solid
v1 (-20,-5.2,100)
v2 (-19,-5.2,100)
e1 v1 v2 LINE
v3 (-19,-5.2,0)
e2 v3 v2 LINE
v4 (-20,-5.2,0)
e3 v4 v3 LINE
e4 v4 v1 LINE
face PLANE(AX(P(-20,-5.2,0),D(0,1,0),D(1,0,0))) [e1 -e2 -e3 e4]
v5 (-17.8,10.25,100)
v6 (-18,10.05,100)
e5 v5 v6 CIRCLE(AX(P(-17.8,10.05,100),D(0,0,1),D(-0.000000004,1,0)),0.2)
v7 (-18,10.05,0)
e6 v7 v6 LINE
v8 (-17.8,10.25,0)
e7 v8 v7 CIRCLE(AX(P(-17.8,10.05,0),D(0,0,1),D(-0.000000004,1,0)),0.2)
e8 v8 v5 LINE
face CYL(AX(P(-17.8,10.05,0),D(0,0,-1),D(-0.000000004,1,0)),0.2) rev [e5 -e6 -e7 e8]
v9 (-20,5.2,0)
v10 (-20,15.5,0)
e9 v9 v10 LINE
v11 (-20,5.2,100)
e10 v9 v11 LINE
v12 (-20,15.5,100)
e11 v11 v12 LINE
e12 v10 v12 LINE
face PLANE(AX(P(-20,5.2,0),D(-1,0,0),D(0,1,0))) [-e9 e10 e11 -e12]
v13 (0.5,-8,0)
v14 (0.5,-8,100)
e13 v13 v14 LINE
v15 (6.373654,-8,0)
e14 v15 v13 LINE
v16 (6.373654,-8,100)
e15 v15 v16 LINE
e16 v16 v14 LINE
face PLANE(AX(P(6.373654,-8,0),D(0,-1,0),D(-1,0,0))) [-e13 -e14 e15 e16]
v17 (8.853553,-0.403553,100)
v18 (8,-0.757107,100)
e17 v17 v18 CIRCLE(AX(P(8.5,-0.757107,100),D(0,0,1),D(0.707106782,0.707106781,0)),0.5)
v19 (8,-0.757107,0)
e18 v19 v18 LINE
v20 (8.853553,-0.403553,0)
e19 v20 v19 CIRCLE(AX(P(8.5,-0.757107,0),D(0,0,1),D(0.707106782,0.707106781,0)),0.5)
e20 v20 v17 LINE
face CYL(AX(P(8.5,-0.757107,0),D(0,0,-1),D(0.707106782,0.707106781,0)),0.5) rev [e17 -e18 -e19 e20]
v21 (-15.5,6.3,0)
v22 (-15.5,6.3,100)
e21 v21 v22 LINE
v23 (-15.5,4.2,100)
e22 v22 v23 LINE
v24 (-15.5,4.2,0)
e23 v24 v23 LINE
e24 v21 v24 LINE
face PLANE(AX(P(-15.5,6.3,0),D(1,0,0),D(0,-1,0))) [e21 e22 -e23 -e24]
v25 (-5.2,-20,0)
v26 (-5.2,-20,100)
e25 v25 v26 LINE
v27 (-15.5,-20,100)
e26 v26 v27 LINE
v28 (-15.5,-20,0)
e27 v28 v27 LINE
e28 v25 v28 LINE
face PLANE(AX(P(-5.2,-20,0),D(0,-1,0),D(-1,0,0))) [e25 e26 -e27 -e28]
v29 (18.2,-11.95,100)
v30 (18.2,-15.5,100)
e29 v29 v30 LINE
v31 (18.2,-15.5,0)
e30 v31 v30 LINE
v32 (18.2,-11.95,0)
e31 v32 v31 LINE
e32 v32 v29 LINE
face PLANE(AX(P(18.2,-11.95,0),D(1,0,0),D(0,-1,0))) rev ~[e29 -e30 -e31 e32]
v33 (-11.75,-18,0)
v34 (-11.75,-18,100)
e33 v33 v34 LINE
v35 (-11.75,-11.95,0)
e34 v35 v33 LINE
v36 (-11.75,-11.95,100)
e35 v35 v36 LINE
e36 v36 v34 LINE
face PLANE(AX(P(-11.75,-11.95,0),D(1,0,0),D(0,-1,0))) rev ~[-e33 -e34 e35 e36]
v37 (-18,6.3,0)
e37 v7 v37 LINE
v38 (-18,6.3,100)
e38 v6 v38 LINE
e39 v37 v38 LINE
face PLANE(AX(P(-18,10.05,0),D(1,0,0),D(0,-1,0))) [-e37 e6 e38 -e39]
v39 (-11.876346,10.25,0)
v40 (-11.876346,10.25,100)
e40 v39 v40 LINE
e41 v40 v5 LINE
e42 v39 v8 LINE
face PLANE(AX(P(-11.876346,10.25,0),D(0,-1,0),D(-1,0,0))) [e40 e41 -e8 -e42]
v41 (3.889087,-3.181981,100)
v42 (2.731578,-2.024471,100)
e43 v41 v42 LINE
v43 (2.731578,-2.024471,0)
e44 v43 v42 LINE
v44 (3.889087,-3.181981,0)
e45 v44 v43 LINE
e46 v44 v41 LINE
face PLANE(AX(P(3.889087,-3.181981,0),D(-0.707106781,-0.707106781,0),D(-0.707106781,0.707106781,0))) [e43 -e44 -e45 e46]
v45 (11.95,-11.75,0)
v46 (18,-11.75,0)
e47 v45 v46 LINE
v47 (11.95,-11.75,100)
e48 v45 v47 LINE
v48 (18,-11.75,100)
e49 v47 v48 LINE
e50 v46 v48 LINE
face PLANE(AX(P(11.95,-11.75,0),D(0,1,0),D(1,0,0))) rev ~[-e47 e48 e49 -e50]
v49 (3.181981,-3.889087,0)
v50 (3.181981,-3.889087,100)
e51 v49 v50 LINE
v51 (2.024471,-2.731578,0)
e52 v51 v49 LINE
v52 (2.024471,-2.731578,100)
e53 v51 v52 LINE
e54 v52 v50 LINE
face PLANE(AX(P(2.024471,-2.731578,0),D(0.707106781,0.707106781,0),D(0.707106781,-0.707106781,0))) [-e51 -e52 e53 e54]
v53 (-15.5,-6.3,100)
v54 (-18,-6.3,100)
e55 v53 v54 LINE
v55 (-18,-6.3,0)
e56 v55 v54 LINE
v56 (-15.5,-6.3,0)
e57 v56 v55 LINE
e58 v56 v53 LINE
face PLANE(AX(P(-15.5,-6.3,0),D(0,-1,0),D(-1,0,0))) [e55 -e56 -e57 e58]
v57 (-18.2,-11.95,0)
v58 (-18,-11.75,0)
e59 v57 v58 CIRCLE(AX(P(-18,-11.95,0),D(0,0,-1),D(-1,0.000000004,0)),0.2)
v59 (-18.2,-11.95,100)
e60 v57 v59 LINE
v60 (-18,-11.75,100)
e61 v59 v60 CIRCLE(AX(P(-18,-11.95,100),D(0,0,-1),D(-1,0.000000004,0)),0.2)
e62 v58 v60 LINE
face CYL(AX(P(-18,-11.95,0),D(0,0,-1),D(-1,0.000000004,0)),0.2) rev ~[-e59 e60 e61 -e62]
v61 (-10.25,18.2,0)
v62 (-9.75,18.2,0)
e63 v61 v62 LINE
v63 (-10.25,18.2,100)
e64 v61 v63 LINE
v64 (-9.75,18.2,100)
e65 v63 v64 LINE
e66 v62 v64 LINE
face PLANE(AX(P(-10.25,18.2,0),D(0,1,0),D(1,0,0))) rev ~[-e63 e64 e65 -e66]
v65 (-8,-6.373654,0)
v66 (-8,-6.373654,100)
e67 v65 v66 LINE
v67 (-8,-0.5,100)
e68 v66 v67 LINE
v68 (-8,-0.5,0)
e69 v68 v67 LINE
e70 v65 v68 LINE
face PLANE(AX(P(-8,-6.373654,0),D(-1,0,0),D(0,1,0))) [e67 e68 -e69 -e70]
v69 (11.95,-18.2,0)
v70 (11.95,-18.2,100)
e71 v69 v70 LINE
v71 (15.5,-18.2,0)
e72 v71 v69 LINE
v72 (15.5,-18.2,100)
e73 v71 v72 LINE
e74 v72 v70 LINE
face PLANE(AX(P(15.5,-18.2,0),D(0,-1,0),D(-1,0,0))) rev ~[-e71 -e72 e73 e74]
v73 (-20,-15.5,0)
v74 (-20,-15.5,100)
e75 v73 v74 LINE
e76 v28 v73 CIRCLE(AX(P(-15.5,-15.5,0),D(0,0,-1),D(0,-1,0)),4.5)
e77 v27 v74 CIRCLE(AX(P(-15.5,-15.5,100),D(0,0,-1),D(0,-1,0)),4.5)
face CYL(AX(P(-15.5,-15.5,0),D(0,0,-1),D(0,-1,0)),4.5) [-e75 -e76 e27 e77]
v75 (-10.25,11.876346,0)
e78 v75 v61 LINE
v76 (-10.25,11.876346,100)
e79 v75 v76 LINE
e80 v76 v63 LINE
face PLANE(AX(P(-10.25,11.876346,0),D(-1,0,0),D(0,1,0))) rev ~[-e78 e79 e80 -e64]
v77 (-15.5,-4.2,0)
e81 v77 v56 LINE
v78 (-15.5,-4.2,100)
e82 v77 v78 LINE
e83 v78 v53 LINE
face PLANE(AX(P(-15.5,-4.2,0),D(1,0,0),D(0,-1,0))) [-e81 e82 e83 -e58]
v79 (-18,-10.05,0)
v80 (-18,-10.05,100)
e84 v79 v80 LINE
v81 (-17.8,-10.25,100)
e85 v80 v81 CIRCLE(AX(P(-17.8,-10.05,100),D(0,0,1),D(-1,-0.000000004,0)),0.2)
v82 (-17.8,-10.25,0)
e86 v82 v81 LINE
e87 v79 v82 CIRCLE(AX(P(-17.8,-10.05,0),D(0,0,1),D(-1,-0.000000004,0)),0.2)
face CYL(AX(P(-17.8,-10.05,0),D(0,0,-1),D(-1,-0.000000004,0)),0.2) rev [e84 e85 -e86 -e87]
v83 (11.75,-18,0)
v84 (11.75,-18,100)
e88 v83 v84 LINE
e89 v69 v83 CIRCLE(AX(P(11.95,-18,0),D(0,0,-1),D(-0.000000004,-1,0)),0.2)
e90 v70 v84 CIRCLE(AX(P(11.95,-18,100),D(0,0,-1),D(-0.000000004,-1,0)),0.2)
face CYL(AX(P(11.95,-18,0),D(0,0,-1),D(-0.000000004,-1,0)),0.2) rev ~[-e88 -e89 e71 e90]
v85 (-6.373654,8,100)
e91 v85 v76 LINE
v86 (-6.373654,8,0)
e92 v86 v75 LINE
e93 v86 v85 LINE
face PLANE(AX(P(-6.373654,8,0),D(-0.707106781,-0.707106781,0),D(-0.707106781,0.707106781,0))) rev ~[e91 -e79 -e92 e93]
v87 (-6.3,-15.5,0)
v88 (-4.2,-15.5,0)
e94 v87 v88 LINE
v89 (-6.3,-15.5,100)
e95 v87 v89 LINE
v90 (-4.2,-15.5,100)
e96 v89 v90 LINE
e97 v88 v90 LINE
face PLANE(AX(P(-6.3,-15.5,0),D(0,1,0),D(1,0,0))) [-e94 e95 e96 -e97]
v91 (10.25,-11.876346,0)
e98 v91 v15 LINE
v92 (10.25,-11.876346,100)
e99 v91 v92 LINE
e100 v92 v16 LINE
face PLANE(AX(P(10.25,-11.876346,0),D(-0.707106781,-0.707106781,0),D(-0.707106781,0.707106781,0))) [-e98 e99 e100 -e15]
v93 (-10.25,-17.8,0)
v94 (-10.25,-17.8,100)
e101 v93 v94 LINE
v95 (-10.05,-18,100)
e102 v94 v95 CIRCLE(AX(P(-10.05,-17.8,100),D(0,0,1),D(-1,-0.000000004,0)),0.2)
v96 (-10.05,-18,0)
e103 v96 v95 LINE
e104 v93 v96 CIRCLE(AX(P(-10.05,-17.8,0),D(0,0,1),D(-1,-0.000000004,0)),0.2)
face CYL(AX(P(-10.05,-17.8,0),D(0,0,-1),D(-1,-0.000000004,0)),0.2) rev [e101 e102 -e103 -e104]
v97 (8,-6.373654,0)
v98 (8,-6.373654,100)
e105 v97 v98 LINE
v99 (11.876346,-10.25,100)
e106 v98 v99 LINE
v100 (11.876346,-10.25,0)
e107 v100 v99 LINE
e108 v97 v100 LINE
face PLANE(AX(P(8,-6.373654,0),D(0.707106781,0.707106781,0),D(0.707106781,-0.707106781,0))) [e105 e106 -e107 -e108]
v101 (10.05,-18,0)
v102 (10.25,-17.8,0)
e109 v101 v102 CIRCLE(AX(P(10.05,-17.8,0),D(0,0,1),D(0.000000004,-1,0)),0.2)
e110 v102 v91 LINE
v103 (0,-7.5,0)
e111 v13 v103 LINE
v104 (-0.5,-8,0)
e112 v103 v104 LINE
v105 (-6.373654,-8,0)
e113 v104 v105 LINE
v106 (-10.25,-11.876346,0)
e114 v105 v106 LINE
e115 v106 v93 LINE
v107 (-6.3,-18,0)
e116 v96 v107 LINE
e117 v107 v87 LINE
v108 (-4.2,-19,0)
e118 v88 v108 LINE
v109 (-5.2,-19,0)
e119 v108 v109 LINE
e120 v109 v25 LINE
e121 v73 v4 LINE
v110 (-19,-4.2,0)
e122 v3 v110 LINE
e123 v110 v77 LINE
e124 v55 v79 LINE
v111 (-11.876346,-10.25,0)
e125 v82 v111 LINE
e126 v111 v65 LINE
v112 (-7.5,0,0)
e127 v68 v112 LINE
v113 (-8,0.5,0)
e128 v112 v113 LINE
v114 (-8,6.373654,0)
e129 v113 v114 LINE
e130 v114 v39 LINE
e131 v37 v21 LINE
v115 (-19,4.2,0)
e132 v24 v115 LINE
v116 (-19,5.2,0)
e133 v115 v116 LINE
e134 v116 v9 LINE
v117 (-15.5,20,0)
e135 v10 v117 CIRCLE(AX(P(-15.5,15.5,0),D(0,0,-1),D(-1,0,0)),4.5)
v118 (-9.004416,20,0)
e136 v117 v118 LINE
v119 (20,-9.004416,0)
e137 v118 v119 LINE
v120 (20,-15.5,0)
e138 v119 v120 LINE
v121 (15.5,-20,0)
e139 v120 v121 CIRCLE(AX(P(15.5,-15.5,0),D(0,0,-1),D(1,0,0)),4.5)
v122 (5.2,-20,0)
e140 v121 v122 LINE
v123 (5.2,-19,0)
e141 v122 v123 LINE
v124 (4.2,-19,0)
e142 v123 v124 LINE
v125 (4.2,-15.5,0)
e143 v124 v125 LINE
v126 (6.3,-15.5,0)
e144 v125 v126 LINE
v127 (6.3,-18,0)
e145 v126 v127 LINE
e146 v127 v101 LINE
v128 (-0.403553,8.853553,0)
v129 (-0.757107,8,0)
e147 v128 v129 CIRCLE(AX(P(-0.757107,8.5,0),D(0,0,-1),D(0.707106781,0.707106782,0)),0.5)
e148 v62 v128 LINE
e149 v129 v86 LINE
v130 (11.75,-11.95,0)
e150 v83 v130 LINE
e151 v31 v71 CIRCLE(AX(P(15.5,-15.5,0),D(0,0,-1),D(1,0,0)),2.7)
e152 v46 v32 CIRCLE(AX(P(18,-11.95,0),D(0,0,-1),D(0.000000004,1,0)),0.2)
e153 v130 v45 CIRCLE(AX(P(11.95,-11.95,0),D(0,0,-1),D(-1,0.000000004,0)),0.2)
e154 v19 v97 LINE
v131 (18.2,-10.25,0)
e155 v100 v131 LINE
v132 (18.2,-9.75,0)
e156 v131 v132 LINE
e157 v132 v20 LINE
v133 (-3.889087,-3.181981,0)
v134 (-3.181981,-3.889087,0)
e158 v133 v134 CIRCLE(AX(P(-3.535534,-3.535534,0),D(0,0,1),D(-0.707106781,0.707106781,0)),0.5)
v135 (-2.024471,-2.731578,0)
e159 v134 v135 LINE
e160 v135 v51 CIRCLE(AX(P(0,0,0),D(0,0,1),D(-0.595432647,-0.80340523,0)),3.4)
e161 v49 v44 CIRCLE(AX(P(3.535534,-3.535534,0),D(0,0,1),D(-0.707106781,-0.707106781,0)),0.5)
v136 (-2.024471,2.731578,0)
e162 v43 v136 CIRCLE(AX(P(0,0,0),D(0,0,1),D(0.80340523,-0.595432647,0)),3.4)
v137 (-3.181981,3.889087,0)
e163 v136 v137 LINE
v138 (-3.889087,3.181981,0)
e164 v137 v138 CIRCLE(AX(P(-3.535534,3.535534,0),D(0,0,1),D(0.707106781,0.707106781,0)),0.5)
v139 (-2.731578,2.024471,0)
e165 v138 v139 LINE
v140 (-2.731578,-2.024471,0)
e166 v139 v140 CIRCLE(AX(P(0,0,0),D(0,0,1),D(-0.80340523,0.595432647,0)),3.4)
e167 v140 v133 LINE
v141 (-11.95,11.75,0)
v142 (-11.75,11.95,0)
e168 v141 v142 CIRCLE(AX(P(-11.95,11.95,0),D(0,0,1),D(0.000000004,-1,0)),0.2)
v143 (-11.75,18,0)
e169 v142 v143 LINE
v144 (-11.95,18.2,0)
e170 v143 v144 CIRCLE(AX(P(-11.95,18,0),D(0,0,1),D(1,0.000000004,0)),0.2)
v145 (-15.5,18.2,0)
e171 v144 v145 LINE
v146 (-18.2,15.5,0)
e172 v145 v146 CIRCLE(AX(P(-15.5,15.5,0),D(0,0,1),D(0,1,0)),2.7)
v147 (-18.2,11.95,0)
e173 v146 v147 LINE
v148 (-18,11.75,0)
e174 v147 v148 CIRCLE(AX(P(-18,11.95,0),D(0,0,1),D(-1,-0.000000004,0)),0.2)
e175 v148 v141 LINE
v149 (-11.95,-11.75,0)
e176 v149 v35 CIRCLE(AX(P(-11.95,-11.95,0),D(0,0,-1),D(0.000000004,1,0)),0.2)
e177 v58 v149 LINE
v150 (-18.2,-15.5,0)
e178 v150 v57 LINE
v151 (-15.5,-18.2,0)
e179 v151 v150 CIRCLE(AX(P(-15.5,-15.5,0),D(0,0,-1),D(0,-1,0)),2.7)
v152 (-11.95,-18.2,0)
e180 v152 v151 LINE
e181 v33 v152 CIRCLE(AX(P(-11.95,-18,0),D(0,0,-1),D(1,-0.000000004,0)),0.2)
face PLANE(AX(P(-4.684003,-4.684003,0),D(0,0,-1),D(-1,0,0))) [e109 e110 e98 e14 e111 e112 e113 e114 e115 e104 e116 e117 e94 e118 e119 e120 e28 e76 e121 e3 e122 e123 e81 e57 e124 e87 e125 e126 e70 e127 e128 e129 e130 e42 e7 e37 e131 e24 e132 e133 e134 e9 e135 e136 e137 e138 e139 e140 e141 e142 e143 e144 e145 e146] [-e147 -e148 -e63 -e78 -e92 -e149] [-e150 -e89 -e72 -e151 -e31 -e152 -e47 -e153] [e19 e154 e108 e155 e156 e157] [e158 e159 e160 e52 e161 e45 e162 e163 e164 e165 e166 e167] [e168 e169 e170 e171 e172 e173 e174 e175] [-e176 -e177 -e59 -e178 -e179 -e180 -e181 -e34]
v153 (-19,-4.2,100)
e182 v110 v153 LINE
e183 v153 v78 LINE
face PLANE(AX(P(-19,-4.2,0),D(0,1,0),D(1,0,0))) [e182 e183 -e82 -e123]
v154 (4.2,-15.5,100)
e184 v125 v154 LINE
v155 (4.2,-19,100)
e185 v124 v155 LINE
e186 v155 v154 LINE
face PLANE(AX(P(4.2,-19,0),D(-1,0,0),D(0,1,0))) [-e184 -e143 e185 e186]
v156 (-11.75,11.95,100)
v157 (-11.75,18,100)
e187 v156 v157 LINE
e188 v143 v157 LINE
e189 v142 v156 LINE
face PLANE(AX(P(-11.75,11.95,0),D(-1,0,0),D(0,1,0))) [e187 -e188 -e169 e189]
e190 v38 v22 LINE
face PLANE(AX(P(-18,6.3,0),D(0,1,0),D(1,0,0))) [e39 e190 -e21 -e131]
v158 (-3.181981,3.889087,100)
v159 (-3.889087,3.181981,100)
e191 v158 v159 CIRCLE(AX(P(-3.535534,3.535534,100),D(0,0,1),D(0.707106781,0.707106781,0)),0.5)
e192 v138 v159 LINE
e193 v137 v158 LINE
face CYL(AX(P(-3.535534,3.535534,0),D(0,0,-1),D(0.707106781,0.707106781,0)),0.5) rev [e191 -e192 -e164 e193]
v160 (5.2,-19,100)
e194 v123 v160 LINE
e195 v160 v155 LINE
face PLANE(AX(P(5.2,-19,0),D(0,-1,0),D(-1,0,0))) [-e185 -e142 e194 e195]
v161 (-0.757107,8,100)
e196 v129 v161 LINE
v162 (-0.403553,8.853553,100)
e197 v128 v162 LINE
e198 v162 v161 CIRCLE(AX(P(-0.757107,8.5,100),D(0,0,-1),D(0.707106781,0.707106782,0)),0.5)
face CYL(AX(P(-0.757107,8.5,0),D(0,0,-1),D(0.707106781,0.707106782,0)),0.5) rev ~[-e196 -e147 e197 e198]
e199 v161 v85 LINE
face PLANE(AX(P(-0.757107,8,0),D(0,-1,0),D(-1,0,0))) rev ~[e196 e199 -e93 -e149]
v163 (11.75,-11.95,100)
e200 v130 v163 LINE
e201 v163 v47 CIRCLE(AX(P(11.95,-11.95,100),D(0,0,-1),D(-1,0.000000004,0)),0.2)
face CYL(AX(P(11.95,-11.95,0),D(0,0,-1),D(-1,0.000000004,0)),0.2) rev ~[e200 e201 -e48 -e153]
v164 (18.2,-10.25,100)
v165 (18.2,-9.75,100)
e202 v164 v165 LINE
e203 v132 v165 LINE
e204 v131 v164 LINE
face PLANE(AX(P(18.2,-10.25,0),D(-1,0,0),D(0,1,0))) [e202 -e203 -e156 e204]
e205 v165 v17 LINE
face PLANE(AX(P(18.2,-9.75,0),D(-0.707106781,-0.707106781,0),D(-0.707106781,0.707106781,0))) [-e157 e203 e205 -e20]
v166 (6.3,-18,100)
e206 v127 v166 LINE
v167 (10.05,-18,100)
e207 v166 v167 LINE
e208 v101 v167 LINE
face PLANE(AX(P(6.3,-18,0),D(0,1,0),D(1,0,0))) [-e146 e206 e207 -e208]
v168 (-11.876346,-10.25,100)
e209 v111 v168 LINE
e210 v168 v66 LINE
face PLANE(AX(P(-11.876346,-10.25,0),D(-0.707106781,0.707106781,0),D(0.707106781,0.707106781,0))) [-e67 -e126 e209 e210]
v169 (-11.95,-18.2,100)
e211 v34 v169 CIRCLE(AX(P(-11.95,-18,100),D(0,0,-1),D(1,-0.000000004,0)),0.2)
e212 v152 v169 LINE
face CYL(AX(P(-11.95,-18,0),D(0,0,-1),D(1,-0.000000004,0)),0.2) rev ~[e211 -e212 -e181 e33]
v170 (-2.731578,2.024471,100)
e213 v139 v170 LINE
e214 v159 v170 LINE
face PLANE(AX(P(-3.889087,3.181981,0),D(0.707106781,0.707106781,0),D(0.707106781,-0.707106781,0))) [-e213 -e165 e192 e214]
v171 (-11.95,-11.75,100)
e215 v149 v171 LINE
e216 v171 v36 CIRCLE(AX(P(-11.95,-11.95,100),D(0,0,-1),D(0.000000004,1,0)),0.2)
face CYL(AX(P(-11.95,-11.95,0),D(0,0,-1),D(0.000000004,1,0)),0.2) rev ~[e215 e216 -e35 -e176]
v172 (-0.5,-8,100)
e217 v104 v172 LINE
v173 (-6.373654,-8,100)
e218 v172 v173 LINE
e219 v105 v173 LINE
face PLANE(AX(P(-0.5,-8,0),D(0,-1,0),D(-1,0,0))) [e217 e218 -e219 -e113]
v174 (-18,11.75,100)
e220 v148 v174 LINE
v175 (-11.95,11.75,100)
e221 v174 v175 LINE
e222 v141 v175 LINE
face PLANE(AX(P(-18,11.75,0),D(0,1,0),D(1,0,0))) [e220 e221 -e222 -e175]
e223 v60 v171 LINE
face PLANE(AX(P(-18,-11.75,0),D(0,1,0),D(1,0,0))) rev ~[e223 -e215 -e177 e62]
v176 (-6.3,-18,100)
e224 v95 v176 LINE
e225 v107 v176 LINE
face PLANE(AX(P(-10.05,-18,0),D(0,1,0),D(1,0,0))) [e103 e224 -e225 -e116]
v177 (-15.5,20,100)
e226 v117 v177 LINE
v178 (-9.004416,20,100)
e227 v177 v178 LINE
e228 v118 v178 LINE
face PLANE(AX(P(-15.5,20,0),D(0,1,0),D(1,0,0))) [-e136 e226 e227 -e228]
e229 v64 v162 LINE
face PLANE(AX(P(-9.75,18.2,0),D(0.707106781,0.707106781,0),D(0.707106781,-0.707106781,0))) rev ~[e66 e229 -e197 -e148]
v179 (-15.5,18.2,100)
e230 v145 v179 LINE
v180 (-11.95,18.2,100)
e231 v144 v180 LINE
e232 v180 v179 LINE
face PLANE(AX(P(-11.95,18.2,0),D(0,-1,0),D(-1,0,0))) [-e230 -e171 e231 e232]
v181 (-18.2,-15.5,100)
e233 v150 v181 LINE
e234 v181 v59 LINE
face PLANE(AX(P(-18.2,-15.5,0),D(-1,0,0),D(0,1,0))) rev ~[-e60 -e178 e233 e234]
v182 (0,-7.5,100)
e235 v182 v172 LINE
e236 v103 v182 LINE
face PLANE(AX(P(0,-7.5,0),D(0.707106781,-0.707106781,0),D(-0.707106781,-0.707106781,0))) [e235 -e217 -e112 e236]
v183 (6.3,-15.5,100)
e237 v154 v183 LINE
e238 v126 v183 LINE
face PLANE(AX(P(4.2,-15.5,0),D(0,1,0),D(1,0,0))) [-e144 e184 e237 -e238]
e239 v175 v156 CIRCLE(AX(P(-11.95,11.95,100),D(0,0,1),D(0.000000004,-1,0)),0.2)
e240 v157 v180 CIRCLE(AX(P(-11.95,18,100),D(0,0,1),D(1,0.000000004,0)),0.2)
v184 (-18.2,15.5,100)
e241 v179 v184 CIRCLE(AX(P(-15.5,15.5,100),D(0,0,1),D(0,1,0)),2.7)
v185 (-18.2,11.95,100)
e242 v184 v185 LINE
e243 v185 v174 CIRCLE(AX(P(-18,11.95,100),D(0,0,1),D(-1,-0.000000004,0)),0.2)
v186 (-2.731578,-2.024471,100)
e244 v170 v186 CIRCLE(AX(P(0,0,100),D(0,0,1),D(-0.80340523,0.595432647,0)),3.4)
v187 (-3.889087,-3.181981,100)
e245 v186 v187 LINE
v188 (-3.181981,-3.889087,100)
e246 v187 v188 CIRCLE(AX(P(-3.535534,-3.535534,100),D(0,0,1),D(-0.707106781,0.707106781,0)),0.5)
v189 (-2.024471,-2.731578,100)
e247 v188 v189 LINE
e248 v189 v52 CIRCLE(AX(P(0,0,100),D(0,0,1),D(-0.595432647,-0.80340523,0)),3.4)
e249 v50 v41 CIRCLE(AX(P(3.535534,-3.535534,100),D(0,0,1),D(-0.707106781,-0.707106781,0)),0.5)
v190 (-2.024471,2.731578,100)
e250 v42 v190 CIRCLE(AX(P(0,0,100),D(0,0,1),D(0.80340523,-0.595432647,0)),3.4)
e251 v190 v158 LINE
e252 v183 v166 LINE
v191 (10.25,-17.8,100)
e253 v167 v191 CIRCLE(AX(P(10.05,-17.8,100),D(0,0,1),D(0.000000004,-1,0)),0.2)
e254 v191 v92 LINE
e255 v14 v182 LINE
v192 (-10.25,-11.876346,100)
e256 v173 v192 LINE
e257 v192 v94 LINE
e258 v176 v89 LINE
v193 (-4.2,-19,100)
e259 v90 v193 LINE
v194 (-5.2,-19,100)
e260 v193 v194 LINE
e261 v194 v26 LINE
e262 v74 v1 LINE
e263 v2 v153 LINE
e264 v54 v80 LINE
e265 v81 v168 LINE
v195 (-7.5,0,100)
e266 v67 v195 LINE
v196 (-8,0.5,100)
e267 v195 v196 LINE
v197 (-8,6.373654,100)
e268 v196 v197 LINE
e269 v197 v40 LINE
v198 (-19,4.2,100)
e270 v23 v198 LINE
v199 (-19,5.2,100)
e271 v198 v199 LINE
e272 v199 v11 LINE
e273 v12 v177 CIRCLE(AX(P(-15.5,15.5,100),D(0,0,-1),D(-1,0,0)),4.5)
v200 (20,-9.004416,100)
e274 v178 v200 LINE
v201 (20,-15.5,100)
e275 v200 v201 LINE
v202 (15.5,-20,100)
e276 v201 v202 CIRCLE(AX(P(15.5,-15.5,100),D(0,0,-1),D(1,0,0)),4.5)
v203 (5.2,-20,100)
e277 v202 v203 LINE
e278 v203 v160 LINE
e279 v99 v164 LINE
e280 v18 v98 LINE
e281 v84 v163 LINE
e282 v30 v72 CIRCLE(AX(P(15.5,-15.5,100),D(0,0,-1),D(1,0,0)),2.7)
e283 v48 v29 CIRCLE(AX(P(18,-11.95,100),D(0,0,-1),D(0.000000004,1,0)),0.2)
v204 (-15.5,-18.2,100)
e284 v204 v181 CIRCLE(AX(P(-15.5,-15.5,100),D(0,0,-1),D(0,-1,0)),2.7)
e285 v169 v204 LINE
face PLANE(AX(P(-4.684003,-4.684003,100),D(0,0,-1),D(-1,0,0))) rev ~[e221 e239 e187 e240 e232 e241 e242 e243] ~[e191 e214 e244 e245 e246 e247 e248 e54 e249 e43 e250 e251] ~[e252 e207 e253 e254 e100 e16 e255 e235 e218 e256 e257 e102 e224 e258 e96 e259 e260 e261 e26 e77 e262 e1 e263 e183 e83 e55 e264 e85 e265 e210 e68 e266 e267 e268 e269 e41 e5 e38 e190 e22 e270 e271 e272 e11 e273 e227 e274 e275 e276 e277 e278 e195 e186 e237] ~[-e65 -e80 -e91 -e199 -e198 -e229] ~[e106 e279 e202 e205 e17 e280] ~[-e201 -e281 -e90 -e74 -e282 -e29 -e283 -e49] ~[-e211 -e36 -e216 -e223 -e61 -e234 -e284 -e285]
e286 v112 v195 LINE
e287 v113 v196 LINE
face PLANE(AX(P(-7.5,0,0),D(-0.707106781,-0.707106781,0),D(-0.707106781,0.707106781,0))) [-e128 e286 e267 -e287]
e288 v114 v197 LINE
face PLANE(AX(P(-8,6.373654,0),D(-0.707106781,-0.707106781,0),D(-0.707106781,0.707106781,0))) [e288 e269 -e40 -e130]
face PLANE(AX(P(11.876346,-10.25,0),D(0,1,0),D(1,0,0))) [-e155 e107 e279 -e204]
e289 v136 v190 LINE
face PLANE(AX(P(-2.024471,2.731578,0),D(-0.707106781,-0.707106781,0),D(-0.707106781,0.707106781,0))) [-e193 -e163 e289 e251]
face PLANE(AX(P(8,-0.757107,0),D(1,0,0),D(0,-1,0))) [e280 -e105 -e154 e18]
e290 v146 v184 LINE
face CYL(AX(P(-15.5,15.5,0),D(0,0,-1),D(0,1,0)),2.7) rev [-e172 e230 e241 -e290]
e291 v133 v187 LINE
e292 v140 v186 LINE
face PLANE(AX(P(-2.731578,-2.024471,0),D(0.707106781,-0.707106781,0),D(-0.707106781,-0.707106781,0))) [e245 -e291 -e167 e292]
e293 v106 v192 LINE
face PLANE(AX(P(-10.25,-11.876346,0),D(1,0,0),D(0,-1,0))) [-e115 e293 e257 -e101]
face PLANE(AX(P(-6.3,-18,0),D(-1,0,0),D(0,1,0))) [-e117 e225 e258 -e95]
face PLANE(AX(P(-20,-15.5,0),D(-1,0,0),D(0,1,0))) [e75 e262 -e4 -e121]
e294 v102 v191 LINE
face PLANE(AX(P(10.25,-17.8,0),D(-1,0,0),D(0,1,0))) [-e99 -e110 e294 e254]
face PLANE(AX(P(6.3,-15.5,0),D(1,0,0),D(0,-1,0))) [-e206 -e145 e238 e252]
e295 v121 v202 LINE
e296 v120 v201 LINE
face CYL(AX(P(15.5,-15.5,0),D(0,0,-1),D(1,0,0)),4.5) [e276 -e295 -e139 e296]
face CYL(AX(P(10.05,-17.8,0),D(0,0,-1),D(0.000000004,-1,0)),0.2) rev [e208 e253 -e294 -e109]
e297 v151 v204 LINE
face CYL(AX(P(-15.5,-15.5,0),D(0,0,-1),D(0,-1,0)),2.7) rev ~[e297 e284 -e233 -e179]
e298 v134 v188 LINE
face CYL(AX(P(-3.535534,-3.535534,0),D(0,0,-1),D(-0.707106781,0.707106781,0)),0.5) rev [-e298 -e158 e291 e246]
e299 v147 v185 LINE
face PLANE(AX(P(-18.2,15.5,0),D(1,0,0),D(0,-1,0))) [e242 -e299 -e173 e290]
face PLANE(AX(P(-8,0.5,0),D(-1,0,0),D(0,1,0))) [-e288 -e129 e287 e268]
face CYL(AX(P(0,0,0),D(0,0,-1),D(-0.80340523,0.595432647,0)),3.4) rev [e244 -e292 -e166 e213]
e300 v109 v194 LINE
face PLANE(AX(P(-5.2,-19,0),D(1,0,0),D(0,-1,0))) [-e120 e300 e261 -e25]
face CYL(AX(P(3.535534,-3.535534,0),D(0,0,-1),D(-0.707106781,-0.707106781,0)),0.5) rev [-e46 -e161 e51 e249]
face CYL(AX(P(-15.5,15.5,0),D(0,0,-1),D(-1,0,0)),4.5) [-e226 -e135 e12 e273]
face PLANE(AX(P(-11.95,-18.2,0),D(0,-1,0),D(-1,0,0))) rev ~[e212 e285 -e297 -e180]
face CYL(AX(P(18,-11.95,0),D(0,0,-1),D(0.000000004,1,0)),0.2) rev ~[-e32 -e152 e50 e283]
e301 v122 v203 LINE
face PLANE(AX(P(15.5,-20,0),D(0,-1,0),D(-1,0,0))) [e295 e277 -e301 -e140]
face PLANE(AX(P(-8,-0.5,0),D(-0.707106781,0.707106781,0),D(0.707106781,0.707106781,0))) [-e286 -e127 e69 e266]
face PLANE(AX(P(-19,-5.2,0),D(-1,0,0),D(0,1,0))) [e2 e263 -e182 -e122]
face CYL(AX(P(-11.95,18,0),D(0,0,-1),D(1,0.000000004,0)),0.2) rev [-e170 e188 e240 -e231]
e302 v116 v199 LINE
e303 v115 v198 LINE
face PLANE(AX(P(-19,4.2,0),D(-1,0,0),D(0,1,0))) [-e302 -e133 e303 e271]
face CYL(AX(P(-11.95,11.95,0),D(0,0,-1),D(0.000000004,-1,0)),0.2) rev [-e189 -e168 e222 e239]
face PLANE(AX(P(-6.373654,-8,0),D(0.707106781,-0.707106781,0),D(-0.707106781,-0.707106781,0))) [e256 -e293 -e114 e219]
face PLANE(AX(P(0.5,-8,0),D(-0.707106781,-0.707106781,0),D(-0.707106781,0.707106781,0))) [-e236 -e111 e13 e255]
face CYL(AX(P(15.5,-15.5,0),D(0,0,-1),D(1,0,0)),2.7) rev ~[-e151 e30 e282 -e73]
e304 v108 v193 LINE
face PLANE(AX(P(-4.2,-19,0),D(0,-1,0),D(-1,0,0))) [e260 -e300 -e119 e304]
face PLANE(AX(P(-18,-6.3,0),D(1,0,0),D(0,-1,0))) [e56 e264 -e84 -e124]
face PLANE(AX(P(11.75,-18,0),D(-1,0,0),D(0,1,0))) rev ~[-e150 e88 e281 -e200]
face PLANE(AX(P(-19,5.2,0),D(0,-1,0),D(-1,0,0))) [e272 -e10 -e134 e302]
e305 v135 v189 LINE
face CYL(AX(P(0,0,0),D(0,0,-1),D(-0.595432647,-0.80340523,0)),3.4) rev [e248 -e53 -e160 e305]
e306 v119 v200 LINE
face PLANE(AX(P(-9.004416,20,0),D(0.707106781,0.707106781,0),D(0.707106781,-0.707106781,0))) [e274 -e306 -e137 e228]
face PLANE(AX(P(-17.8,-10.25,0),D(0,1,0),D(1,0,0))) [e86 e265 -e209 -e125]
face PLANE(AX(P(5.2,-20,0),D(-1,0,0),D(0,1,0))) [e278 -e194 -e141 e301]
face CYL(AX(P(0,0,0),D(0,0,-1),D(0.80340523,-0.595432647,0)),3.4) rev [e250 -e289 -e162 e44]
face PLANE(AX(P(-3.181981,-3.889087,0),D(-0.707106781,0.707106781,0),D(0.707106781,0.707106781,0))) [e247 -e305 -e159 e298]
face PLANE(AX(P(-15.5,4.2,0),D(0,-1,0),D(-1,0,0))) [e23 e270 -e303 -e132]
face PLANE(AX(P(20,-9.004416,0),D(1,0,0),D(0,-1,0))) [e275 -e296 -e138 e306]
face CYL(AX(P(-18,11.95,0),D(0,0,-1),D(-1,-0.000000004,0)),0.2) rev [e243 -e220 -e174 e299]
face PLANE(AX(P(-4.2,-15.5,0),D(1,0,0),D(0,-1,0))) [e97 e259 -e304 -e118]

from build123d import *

# Parameters (mm, degrees)
EXTRUDE_1_DEPTH = 100


with BuildPart() as part:
    # 草图1 → 凸台-拉伸1 (new body)
    with BuildSketch(Plane.XY):
        with BuildLine():
            Line((-20, -15.5), (-20, -5.2))
            Line((-20, -5.2), (-19, -5.2))
            Line((-19, -5.2), (-19, -4.2))
            Line((-19, -4.2), (-15.5, -4.2))
            Line((-15.5, -4.2), (-15.5, -6.3))
            Line((-15.5, -6.3), (-18, -6.3))
            Line((-18, -6.3), (-18, -10.05))
            ThreePointArc((-18, -10.05), (-17.941421356, -10.191421356), (-17.8, -10.25))
            Line((-17.8, -10.25), (-11.876345597, -10.25))
            Line((-11.876345597, -10.25), (-8, -6.373654403))
            Line((-8, -6.373654403), (-8, -0.5))
            Line((-8, -0.5), (-7.5, 0))
            Line((-7.5, 0), (-8, 0.5))
            Line((-8, 0.5), (-8, 6.373654403))
            Line((-8, 6.373654403), (-11.876345597, 10.25))
            Line((-11.876345597, 10.25), (-17.8, 10.25))
            ThreePointArc((-17.8, 10.25), (-17.941421356, 10.191421356), (-18, 10.05))
            Line((-18, 10.05), (-18, 6.3))
            Line((-18, 6.3), (-15.5, 6.3))
            Line((-15.5, 6.3), (-15.5, 4.2))
            Line((-15.5, 4.2), (-19, 4.2))
            Line((-19, 4.2), (-19, 5.2))
            Line((-19, 5.2), (-20, 5.2))
            Line((-20, 5.2), (-20, 15.5))
            ThreePointArc((-20, 15.5), (-18.681980515, 18.681980515), (-15.5, 20))
            Line((-15.5, 20), (-9.004415588, 20))
            Line((-9.004415588, 20), (20, -9.004415588))
            Line((20, -9.004415588), (20, -15.5))
            ThreePointArc((20, -15.5), (18.681980515, -18.681980515), (15.5, -20))
            Line((15.5, -20), (5.2, -20))
            Line((5.2, -20), (5.2, -19))
            Line((5.2, -19), (4.2, -19))
            Line((4.2, -19), (4.2, -15.5))
            Line((4.2, -15.5), (6.3, -15.5))
            Line((6.3, -15.5), (6.3, -18))
            Line((6.3, -18), (10.05, -18))
            ThreePointArc((10.05, -18), (10.191421356, -17.941421356), (10.25, -17.8))
            Line((10.25, -17.8), (10.25, -11.876345597))
            Line((10.25, -11.876345597), (6.373654403, -8))
            Line((6.373654403, -8), (0.5, -8))
            Line((0.5, -8), (0, -7.5))
            Line((0, -7.5), (-0.5, -8))
            Line((-0.5, -8), (-6.373654403, -8))
            Line((-6.373654403, -8), (-10.25, -11.876345597))
            Line((-10.25, -11.876345597), (-10.25, -17.8))
            ThreePointArc((-10.25, -17.8), (-10.191421356, -17.941421356), (-10.05, -18))
            Line((-10.05, -18), (-6.3, -18))
            Line((-6.3, -18), (-6.3, -15.5))
            Line((-6.3, -15.5), (-4.2, -15.5))
            Line((-4.2, -15.5), (-4.2, -19))
            Line((-4.2, -19), (-5.2, -19))
            Line((-5.2, -19), (-5.2, -20))
            Line((-5.2, -20), (-15.5, -20))
            ThreePointArc((-15.5, -20), (-18.681980515, -18.681980515), (-20, -15.5))
        make_face()
        with BuildLine():
            Line((-18.2, -15.5), (-18.2, -11.95))
            ThreePointArc((-18.2, -11.95), (-18.141421356, -11.808578644), (-18, -11.75))
            Line((-18, -11.75), (-11.95, -11.75))
            ThreePointArc((-11.95, -11.75), (-11.808578644, -11.808578644), (-11.75, -11.95))
            Line((-11.75, -11.95), (-11.75, -18))
            ThreePointArc((-11.75, -18), (-11.808578644, -18.141421356), (-11.95, -18.2))
            Line((-11.95, -18.2), (-15.5, -18.2))
            ThreePointArc((-15.5, -18.2), (-17.409188309, -17.409188309), (-18.2, -15.5))
        make_face(mode=Mode.SUBTRACT)
        with BuildLine():
            Line((-18.2, 15.5), (-18.2, 11.95))
            ThreePointArc((-18.2, 11.95), (-18.141421356, 11.808578644), (-18, 11.75))
            Line((-18, 11.75), (-11.95, 11.75))
            ThreePointArc((-11.95, 11.75), (-11.808578644, 11.808578644), (-11.75, 11.95))
            Line((-11.75, 11.95), (-11.75, 18))
            ThreePointArc((-11.75, 18), (-11.808578644, 18.141421356), (-11.95, 18.2))
            Line((-11.95, 18.2), (-15.5, 18.2))
            ThreePointArc((-15.5, 18.2), (-17.409188309, 17.409188309), (-18.2, 15.5))
        make_face(mode=Mode.SUBTRACT)
        with BuildLine():
            Line((-6.373654403, 8), (-10.25, 11.876345597))
            Line((-10.25, 11.876345597), (-10.25, 18.2))
            Line((-10.25, 18.2), (-9.75, 18.2))
            Line((-9.75, 18.2), (-0.403553391, 8.853553391))
            ThreePointArc((-0.403553391, 8.853553391), (-0.295167015, 8.308658284), (-0.757106781, 8))
            Line((-0.757106781, 8), (-6.373654403, 8))
        make_face(mode=Mode.SUBTRACT)
        with BuildLine():
            Line((8, -6.373654403), (11.876345597, -10.25))
            Line((11.876345597, -10.25), (18.2, -10.25))
            Line((18.2, -10.25), (18.2, -9.75))
            Line((18.2, -9.75), (8.853553391, -0.403553391))
            ThreePointArc((8.853553391, -0.403553391), (8.308658284, -0.295167015), (8, -0.757106781))
            Line((8, -0.757106781), (8, -6.373654403))
        make_face(mode=Mode.SUBTRACT)
        with BuildLine():
            Line((-3.181980515, -3.889087297), (-2.024471, -2.731577781))
            ThreePointArc((-2.024471, -2.731577781), (0, -3.4), (2.024471, -2.731577781))
            Line((2.024471, -2.731577781), (3.181980515, -3.889087297))
            ThreePointArc((3.181980515, -3.889087297), (3.889087297, -3.889087297), (3.889087297, -3.181980515))
            Line((3.889087297, -3.181980515), (2.731577781, -2.024471))
            ThreePointArc((2.731577781, -2.024471), (2.404163056, 2.404163056), (-2.024471, 2.731577781))
            Line((-2.024471, 2.731577781), (-3.181980515, 3.889087297))
            ThreePointArc((-3.181980515, 3.889087297), (-3.889087297, 3.889087297), (-3.889087297, 3.181980515))
            Line((-3.889087297, 3.181980515), (-2.731577781, 2.024471))
            ThreePointArc((-2.731577781, 2.024471), (-3.4, 0), (-2.731577781, -2.024471))
            Line((-2.731577781, -2.024471), (-3.889087297, -3.181980515))
            ThreePointArc((-3.889087297, -3.181980515), (-3.889087297, -3.889087297), (-3.181980515, -3.889087297))
        make_face(mode=Mode.SUBTRACT)
        with BuildLine():
            Line((15.5, -18.2), (11.95, -18.2))
            ThreePointArc((11.95, -18.2), (11.808578644, -18.141421356), (11.75, -18))
            Line((11.75, -18), (11.75, -11.95))
            ThreePointArc((11.75, -11.95), (11.808578644, -11.808578644), (11.95, -11.75))
            Line((11.95, -11.75), (18, -11.75))
            ThreePointArc((18, -11.75), (18.141421356, -11.808578644), (18.2, -11.95))
            Line((18.2, -11.95), (18.2, -15.5))
            ThreePointArc((18.2, -15.5), (17.409188309, -17.409188309), (15.5, -18.2))
        make_face(mode=Mode.SUBTRACT)
    extrude(amount=EXTRUDE_1_DEPTH)


solid = part.part
